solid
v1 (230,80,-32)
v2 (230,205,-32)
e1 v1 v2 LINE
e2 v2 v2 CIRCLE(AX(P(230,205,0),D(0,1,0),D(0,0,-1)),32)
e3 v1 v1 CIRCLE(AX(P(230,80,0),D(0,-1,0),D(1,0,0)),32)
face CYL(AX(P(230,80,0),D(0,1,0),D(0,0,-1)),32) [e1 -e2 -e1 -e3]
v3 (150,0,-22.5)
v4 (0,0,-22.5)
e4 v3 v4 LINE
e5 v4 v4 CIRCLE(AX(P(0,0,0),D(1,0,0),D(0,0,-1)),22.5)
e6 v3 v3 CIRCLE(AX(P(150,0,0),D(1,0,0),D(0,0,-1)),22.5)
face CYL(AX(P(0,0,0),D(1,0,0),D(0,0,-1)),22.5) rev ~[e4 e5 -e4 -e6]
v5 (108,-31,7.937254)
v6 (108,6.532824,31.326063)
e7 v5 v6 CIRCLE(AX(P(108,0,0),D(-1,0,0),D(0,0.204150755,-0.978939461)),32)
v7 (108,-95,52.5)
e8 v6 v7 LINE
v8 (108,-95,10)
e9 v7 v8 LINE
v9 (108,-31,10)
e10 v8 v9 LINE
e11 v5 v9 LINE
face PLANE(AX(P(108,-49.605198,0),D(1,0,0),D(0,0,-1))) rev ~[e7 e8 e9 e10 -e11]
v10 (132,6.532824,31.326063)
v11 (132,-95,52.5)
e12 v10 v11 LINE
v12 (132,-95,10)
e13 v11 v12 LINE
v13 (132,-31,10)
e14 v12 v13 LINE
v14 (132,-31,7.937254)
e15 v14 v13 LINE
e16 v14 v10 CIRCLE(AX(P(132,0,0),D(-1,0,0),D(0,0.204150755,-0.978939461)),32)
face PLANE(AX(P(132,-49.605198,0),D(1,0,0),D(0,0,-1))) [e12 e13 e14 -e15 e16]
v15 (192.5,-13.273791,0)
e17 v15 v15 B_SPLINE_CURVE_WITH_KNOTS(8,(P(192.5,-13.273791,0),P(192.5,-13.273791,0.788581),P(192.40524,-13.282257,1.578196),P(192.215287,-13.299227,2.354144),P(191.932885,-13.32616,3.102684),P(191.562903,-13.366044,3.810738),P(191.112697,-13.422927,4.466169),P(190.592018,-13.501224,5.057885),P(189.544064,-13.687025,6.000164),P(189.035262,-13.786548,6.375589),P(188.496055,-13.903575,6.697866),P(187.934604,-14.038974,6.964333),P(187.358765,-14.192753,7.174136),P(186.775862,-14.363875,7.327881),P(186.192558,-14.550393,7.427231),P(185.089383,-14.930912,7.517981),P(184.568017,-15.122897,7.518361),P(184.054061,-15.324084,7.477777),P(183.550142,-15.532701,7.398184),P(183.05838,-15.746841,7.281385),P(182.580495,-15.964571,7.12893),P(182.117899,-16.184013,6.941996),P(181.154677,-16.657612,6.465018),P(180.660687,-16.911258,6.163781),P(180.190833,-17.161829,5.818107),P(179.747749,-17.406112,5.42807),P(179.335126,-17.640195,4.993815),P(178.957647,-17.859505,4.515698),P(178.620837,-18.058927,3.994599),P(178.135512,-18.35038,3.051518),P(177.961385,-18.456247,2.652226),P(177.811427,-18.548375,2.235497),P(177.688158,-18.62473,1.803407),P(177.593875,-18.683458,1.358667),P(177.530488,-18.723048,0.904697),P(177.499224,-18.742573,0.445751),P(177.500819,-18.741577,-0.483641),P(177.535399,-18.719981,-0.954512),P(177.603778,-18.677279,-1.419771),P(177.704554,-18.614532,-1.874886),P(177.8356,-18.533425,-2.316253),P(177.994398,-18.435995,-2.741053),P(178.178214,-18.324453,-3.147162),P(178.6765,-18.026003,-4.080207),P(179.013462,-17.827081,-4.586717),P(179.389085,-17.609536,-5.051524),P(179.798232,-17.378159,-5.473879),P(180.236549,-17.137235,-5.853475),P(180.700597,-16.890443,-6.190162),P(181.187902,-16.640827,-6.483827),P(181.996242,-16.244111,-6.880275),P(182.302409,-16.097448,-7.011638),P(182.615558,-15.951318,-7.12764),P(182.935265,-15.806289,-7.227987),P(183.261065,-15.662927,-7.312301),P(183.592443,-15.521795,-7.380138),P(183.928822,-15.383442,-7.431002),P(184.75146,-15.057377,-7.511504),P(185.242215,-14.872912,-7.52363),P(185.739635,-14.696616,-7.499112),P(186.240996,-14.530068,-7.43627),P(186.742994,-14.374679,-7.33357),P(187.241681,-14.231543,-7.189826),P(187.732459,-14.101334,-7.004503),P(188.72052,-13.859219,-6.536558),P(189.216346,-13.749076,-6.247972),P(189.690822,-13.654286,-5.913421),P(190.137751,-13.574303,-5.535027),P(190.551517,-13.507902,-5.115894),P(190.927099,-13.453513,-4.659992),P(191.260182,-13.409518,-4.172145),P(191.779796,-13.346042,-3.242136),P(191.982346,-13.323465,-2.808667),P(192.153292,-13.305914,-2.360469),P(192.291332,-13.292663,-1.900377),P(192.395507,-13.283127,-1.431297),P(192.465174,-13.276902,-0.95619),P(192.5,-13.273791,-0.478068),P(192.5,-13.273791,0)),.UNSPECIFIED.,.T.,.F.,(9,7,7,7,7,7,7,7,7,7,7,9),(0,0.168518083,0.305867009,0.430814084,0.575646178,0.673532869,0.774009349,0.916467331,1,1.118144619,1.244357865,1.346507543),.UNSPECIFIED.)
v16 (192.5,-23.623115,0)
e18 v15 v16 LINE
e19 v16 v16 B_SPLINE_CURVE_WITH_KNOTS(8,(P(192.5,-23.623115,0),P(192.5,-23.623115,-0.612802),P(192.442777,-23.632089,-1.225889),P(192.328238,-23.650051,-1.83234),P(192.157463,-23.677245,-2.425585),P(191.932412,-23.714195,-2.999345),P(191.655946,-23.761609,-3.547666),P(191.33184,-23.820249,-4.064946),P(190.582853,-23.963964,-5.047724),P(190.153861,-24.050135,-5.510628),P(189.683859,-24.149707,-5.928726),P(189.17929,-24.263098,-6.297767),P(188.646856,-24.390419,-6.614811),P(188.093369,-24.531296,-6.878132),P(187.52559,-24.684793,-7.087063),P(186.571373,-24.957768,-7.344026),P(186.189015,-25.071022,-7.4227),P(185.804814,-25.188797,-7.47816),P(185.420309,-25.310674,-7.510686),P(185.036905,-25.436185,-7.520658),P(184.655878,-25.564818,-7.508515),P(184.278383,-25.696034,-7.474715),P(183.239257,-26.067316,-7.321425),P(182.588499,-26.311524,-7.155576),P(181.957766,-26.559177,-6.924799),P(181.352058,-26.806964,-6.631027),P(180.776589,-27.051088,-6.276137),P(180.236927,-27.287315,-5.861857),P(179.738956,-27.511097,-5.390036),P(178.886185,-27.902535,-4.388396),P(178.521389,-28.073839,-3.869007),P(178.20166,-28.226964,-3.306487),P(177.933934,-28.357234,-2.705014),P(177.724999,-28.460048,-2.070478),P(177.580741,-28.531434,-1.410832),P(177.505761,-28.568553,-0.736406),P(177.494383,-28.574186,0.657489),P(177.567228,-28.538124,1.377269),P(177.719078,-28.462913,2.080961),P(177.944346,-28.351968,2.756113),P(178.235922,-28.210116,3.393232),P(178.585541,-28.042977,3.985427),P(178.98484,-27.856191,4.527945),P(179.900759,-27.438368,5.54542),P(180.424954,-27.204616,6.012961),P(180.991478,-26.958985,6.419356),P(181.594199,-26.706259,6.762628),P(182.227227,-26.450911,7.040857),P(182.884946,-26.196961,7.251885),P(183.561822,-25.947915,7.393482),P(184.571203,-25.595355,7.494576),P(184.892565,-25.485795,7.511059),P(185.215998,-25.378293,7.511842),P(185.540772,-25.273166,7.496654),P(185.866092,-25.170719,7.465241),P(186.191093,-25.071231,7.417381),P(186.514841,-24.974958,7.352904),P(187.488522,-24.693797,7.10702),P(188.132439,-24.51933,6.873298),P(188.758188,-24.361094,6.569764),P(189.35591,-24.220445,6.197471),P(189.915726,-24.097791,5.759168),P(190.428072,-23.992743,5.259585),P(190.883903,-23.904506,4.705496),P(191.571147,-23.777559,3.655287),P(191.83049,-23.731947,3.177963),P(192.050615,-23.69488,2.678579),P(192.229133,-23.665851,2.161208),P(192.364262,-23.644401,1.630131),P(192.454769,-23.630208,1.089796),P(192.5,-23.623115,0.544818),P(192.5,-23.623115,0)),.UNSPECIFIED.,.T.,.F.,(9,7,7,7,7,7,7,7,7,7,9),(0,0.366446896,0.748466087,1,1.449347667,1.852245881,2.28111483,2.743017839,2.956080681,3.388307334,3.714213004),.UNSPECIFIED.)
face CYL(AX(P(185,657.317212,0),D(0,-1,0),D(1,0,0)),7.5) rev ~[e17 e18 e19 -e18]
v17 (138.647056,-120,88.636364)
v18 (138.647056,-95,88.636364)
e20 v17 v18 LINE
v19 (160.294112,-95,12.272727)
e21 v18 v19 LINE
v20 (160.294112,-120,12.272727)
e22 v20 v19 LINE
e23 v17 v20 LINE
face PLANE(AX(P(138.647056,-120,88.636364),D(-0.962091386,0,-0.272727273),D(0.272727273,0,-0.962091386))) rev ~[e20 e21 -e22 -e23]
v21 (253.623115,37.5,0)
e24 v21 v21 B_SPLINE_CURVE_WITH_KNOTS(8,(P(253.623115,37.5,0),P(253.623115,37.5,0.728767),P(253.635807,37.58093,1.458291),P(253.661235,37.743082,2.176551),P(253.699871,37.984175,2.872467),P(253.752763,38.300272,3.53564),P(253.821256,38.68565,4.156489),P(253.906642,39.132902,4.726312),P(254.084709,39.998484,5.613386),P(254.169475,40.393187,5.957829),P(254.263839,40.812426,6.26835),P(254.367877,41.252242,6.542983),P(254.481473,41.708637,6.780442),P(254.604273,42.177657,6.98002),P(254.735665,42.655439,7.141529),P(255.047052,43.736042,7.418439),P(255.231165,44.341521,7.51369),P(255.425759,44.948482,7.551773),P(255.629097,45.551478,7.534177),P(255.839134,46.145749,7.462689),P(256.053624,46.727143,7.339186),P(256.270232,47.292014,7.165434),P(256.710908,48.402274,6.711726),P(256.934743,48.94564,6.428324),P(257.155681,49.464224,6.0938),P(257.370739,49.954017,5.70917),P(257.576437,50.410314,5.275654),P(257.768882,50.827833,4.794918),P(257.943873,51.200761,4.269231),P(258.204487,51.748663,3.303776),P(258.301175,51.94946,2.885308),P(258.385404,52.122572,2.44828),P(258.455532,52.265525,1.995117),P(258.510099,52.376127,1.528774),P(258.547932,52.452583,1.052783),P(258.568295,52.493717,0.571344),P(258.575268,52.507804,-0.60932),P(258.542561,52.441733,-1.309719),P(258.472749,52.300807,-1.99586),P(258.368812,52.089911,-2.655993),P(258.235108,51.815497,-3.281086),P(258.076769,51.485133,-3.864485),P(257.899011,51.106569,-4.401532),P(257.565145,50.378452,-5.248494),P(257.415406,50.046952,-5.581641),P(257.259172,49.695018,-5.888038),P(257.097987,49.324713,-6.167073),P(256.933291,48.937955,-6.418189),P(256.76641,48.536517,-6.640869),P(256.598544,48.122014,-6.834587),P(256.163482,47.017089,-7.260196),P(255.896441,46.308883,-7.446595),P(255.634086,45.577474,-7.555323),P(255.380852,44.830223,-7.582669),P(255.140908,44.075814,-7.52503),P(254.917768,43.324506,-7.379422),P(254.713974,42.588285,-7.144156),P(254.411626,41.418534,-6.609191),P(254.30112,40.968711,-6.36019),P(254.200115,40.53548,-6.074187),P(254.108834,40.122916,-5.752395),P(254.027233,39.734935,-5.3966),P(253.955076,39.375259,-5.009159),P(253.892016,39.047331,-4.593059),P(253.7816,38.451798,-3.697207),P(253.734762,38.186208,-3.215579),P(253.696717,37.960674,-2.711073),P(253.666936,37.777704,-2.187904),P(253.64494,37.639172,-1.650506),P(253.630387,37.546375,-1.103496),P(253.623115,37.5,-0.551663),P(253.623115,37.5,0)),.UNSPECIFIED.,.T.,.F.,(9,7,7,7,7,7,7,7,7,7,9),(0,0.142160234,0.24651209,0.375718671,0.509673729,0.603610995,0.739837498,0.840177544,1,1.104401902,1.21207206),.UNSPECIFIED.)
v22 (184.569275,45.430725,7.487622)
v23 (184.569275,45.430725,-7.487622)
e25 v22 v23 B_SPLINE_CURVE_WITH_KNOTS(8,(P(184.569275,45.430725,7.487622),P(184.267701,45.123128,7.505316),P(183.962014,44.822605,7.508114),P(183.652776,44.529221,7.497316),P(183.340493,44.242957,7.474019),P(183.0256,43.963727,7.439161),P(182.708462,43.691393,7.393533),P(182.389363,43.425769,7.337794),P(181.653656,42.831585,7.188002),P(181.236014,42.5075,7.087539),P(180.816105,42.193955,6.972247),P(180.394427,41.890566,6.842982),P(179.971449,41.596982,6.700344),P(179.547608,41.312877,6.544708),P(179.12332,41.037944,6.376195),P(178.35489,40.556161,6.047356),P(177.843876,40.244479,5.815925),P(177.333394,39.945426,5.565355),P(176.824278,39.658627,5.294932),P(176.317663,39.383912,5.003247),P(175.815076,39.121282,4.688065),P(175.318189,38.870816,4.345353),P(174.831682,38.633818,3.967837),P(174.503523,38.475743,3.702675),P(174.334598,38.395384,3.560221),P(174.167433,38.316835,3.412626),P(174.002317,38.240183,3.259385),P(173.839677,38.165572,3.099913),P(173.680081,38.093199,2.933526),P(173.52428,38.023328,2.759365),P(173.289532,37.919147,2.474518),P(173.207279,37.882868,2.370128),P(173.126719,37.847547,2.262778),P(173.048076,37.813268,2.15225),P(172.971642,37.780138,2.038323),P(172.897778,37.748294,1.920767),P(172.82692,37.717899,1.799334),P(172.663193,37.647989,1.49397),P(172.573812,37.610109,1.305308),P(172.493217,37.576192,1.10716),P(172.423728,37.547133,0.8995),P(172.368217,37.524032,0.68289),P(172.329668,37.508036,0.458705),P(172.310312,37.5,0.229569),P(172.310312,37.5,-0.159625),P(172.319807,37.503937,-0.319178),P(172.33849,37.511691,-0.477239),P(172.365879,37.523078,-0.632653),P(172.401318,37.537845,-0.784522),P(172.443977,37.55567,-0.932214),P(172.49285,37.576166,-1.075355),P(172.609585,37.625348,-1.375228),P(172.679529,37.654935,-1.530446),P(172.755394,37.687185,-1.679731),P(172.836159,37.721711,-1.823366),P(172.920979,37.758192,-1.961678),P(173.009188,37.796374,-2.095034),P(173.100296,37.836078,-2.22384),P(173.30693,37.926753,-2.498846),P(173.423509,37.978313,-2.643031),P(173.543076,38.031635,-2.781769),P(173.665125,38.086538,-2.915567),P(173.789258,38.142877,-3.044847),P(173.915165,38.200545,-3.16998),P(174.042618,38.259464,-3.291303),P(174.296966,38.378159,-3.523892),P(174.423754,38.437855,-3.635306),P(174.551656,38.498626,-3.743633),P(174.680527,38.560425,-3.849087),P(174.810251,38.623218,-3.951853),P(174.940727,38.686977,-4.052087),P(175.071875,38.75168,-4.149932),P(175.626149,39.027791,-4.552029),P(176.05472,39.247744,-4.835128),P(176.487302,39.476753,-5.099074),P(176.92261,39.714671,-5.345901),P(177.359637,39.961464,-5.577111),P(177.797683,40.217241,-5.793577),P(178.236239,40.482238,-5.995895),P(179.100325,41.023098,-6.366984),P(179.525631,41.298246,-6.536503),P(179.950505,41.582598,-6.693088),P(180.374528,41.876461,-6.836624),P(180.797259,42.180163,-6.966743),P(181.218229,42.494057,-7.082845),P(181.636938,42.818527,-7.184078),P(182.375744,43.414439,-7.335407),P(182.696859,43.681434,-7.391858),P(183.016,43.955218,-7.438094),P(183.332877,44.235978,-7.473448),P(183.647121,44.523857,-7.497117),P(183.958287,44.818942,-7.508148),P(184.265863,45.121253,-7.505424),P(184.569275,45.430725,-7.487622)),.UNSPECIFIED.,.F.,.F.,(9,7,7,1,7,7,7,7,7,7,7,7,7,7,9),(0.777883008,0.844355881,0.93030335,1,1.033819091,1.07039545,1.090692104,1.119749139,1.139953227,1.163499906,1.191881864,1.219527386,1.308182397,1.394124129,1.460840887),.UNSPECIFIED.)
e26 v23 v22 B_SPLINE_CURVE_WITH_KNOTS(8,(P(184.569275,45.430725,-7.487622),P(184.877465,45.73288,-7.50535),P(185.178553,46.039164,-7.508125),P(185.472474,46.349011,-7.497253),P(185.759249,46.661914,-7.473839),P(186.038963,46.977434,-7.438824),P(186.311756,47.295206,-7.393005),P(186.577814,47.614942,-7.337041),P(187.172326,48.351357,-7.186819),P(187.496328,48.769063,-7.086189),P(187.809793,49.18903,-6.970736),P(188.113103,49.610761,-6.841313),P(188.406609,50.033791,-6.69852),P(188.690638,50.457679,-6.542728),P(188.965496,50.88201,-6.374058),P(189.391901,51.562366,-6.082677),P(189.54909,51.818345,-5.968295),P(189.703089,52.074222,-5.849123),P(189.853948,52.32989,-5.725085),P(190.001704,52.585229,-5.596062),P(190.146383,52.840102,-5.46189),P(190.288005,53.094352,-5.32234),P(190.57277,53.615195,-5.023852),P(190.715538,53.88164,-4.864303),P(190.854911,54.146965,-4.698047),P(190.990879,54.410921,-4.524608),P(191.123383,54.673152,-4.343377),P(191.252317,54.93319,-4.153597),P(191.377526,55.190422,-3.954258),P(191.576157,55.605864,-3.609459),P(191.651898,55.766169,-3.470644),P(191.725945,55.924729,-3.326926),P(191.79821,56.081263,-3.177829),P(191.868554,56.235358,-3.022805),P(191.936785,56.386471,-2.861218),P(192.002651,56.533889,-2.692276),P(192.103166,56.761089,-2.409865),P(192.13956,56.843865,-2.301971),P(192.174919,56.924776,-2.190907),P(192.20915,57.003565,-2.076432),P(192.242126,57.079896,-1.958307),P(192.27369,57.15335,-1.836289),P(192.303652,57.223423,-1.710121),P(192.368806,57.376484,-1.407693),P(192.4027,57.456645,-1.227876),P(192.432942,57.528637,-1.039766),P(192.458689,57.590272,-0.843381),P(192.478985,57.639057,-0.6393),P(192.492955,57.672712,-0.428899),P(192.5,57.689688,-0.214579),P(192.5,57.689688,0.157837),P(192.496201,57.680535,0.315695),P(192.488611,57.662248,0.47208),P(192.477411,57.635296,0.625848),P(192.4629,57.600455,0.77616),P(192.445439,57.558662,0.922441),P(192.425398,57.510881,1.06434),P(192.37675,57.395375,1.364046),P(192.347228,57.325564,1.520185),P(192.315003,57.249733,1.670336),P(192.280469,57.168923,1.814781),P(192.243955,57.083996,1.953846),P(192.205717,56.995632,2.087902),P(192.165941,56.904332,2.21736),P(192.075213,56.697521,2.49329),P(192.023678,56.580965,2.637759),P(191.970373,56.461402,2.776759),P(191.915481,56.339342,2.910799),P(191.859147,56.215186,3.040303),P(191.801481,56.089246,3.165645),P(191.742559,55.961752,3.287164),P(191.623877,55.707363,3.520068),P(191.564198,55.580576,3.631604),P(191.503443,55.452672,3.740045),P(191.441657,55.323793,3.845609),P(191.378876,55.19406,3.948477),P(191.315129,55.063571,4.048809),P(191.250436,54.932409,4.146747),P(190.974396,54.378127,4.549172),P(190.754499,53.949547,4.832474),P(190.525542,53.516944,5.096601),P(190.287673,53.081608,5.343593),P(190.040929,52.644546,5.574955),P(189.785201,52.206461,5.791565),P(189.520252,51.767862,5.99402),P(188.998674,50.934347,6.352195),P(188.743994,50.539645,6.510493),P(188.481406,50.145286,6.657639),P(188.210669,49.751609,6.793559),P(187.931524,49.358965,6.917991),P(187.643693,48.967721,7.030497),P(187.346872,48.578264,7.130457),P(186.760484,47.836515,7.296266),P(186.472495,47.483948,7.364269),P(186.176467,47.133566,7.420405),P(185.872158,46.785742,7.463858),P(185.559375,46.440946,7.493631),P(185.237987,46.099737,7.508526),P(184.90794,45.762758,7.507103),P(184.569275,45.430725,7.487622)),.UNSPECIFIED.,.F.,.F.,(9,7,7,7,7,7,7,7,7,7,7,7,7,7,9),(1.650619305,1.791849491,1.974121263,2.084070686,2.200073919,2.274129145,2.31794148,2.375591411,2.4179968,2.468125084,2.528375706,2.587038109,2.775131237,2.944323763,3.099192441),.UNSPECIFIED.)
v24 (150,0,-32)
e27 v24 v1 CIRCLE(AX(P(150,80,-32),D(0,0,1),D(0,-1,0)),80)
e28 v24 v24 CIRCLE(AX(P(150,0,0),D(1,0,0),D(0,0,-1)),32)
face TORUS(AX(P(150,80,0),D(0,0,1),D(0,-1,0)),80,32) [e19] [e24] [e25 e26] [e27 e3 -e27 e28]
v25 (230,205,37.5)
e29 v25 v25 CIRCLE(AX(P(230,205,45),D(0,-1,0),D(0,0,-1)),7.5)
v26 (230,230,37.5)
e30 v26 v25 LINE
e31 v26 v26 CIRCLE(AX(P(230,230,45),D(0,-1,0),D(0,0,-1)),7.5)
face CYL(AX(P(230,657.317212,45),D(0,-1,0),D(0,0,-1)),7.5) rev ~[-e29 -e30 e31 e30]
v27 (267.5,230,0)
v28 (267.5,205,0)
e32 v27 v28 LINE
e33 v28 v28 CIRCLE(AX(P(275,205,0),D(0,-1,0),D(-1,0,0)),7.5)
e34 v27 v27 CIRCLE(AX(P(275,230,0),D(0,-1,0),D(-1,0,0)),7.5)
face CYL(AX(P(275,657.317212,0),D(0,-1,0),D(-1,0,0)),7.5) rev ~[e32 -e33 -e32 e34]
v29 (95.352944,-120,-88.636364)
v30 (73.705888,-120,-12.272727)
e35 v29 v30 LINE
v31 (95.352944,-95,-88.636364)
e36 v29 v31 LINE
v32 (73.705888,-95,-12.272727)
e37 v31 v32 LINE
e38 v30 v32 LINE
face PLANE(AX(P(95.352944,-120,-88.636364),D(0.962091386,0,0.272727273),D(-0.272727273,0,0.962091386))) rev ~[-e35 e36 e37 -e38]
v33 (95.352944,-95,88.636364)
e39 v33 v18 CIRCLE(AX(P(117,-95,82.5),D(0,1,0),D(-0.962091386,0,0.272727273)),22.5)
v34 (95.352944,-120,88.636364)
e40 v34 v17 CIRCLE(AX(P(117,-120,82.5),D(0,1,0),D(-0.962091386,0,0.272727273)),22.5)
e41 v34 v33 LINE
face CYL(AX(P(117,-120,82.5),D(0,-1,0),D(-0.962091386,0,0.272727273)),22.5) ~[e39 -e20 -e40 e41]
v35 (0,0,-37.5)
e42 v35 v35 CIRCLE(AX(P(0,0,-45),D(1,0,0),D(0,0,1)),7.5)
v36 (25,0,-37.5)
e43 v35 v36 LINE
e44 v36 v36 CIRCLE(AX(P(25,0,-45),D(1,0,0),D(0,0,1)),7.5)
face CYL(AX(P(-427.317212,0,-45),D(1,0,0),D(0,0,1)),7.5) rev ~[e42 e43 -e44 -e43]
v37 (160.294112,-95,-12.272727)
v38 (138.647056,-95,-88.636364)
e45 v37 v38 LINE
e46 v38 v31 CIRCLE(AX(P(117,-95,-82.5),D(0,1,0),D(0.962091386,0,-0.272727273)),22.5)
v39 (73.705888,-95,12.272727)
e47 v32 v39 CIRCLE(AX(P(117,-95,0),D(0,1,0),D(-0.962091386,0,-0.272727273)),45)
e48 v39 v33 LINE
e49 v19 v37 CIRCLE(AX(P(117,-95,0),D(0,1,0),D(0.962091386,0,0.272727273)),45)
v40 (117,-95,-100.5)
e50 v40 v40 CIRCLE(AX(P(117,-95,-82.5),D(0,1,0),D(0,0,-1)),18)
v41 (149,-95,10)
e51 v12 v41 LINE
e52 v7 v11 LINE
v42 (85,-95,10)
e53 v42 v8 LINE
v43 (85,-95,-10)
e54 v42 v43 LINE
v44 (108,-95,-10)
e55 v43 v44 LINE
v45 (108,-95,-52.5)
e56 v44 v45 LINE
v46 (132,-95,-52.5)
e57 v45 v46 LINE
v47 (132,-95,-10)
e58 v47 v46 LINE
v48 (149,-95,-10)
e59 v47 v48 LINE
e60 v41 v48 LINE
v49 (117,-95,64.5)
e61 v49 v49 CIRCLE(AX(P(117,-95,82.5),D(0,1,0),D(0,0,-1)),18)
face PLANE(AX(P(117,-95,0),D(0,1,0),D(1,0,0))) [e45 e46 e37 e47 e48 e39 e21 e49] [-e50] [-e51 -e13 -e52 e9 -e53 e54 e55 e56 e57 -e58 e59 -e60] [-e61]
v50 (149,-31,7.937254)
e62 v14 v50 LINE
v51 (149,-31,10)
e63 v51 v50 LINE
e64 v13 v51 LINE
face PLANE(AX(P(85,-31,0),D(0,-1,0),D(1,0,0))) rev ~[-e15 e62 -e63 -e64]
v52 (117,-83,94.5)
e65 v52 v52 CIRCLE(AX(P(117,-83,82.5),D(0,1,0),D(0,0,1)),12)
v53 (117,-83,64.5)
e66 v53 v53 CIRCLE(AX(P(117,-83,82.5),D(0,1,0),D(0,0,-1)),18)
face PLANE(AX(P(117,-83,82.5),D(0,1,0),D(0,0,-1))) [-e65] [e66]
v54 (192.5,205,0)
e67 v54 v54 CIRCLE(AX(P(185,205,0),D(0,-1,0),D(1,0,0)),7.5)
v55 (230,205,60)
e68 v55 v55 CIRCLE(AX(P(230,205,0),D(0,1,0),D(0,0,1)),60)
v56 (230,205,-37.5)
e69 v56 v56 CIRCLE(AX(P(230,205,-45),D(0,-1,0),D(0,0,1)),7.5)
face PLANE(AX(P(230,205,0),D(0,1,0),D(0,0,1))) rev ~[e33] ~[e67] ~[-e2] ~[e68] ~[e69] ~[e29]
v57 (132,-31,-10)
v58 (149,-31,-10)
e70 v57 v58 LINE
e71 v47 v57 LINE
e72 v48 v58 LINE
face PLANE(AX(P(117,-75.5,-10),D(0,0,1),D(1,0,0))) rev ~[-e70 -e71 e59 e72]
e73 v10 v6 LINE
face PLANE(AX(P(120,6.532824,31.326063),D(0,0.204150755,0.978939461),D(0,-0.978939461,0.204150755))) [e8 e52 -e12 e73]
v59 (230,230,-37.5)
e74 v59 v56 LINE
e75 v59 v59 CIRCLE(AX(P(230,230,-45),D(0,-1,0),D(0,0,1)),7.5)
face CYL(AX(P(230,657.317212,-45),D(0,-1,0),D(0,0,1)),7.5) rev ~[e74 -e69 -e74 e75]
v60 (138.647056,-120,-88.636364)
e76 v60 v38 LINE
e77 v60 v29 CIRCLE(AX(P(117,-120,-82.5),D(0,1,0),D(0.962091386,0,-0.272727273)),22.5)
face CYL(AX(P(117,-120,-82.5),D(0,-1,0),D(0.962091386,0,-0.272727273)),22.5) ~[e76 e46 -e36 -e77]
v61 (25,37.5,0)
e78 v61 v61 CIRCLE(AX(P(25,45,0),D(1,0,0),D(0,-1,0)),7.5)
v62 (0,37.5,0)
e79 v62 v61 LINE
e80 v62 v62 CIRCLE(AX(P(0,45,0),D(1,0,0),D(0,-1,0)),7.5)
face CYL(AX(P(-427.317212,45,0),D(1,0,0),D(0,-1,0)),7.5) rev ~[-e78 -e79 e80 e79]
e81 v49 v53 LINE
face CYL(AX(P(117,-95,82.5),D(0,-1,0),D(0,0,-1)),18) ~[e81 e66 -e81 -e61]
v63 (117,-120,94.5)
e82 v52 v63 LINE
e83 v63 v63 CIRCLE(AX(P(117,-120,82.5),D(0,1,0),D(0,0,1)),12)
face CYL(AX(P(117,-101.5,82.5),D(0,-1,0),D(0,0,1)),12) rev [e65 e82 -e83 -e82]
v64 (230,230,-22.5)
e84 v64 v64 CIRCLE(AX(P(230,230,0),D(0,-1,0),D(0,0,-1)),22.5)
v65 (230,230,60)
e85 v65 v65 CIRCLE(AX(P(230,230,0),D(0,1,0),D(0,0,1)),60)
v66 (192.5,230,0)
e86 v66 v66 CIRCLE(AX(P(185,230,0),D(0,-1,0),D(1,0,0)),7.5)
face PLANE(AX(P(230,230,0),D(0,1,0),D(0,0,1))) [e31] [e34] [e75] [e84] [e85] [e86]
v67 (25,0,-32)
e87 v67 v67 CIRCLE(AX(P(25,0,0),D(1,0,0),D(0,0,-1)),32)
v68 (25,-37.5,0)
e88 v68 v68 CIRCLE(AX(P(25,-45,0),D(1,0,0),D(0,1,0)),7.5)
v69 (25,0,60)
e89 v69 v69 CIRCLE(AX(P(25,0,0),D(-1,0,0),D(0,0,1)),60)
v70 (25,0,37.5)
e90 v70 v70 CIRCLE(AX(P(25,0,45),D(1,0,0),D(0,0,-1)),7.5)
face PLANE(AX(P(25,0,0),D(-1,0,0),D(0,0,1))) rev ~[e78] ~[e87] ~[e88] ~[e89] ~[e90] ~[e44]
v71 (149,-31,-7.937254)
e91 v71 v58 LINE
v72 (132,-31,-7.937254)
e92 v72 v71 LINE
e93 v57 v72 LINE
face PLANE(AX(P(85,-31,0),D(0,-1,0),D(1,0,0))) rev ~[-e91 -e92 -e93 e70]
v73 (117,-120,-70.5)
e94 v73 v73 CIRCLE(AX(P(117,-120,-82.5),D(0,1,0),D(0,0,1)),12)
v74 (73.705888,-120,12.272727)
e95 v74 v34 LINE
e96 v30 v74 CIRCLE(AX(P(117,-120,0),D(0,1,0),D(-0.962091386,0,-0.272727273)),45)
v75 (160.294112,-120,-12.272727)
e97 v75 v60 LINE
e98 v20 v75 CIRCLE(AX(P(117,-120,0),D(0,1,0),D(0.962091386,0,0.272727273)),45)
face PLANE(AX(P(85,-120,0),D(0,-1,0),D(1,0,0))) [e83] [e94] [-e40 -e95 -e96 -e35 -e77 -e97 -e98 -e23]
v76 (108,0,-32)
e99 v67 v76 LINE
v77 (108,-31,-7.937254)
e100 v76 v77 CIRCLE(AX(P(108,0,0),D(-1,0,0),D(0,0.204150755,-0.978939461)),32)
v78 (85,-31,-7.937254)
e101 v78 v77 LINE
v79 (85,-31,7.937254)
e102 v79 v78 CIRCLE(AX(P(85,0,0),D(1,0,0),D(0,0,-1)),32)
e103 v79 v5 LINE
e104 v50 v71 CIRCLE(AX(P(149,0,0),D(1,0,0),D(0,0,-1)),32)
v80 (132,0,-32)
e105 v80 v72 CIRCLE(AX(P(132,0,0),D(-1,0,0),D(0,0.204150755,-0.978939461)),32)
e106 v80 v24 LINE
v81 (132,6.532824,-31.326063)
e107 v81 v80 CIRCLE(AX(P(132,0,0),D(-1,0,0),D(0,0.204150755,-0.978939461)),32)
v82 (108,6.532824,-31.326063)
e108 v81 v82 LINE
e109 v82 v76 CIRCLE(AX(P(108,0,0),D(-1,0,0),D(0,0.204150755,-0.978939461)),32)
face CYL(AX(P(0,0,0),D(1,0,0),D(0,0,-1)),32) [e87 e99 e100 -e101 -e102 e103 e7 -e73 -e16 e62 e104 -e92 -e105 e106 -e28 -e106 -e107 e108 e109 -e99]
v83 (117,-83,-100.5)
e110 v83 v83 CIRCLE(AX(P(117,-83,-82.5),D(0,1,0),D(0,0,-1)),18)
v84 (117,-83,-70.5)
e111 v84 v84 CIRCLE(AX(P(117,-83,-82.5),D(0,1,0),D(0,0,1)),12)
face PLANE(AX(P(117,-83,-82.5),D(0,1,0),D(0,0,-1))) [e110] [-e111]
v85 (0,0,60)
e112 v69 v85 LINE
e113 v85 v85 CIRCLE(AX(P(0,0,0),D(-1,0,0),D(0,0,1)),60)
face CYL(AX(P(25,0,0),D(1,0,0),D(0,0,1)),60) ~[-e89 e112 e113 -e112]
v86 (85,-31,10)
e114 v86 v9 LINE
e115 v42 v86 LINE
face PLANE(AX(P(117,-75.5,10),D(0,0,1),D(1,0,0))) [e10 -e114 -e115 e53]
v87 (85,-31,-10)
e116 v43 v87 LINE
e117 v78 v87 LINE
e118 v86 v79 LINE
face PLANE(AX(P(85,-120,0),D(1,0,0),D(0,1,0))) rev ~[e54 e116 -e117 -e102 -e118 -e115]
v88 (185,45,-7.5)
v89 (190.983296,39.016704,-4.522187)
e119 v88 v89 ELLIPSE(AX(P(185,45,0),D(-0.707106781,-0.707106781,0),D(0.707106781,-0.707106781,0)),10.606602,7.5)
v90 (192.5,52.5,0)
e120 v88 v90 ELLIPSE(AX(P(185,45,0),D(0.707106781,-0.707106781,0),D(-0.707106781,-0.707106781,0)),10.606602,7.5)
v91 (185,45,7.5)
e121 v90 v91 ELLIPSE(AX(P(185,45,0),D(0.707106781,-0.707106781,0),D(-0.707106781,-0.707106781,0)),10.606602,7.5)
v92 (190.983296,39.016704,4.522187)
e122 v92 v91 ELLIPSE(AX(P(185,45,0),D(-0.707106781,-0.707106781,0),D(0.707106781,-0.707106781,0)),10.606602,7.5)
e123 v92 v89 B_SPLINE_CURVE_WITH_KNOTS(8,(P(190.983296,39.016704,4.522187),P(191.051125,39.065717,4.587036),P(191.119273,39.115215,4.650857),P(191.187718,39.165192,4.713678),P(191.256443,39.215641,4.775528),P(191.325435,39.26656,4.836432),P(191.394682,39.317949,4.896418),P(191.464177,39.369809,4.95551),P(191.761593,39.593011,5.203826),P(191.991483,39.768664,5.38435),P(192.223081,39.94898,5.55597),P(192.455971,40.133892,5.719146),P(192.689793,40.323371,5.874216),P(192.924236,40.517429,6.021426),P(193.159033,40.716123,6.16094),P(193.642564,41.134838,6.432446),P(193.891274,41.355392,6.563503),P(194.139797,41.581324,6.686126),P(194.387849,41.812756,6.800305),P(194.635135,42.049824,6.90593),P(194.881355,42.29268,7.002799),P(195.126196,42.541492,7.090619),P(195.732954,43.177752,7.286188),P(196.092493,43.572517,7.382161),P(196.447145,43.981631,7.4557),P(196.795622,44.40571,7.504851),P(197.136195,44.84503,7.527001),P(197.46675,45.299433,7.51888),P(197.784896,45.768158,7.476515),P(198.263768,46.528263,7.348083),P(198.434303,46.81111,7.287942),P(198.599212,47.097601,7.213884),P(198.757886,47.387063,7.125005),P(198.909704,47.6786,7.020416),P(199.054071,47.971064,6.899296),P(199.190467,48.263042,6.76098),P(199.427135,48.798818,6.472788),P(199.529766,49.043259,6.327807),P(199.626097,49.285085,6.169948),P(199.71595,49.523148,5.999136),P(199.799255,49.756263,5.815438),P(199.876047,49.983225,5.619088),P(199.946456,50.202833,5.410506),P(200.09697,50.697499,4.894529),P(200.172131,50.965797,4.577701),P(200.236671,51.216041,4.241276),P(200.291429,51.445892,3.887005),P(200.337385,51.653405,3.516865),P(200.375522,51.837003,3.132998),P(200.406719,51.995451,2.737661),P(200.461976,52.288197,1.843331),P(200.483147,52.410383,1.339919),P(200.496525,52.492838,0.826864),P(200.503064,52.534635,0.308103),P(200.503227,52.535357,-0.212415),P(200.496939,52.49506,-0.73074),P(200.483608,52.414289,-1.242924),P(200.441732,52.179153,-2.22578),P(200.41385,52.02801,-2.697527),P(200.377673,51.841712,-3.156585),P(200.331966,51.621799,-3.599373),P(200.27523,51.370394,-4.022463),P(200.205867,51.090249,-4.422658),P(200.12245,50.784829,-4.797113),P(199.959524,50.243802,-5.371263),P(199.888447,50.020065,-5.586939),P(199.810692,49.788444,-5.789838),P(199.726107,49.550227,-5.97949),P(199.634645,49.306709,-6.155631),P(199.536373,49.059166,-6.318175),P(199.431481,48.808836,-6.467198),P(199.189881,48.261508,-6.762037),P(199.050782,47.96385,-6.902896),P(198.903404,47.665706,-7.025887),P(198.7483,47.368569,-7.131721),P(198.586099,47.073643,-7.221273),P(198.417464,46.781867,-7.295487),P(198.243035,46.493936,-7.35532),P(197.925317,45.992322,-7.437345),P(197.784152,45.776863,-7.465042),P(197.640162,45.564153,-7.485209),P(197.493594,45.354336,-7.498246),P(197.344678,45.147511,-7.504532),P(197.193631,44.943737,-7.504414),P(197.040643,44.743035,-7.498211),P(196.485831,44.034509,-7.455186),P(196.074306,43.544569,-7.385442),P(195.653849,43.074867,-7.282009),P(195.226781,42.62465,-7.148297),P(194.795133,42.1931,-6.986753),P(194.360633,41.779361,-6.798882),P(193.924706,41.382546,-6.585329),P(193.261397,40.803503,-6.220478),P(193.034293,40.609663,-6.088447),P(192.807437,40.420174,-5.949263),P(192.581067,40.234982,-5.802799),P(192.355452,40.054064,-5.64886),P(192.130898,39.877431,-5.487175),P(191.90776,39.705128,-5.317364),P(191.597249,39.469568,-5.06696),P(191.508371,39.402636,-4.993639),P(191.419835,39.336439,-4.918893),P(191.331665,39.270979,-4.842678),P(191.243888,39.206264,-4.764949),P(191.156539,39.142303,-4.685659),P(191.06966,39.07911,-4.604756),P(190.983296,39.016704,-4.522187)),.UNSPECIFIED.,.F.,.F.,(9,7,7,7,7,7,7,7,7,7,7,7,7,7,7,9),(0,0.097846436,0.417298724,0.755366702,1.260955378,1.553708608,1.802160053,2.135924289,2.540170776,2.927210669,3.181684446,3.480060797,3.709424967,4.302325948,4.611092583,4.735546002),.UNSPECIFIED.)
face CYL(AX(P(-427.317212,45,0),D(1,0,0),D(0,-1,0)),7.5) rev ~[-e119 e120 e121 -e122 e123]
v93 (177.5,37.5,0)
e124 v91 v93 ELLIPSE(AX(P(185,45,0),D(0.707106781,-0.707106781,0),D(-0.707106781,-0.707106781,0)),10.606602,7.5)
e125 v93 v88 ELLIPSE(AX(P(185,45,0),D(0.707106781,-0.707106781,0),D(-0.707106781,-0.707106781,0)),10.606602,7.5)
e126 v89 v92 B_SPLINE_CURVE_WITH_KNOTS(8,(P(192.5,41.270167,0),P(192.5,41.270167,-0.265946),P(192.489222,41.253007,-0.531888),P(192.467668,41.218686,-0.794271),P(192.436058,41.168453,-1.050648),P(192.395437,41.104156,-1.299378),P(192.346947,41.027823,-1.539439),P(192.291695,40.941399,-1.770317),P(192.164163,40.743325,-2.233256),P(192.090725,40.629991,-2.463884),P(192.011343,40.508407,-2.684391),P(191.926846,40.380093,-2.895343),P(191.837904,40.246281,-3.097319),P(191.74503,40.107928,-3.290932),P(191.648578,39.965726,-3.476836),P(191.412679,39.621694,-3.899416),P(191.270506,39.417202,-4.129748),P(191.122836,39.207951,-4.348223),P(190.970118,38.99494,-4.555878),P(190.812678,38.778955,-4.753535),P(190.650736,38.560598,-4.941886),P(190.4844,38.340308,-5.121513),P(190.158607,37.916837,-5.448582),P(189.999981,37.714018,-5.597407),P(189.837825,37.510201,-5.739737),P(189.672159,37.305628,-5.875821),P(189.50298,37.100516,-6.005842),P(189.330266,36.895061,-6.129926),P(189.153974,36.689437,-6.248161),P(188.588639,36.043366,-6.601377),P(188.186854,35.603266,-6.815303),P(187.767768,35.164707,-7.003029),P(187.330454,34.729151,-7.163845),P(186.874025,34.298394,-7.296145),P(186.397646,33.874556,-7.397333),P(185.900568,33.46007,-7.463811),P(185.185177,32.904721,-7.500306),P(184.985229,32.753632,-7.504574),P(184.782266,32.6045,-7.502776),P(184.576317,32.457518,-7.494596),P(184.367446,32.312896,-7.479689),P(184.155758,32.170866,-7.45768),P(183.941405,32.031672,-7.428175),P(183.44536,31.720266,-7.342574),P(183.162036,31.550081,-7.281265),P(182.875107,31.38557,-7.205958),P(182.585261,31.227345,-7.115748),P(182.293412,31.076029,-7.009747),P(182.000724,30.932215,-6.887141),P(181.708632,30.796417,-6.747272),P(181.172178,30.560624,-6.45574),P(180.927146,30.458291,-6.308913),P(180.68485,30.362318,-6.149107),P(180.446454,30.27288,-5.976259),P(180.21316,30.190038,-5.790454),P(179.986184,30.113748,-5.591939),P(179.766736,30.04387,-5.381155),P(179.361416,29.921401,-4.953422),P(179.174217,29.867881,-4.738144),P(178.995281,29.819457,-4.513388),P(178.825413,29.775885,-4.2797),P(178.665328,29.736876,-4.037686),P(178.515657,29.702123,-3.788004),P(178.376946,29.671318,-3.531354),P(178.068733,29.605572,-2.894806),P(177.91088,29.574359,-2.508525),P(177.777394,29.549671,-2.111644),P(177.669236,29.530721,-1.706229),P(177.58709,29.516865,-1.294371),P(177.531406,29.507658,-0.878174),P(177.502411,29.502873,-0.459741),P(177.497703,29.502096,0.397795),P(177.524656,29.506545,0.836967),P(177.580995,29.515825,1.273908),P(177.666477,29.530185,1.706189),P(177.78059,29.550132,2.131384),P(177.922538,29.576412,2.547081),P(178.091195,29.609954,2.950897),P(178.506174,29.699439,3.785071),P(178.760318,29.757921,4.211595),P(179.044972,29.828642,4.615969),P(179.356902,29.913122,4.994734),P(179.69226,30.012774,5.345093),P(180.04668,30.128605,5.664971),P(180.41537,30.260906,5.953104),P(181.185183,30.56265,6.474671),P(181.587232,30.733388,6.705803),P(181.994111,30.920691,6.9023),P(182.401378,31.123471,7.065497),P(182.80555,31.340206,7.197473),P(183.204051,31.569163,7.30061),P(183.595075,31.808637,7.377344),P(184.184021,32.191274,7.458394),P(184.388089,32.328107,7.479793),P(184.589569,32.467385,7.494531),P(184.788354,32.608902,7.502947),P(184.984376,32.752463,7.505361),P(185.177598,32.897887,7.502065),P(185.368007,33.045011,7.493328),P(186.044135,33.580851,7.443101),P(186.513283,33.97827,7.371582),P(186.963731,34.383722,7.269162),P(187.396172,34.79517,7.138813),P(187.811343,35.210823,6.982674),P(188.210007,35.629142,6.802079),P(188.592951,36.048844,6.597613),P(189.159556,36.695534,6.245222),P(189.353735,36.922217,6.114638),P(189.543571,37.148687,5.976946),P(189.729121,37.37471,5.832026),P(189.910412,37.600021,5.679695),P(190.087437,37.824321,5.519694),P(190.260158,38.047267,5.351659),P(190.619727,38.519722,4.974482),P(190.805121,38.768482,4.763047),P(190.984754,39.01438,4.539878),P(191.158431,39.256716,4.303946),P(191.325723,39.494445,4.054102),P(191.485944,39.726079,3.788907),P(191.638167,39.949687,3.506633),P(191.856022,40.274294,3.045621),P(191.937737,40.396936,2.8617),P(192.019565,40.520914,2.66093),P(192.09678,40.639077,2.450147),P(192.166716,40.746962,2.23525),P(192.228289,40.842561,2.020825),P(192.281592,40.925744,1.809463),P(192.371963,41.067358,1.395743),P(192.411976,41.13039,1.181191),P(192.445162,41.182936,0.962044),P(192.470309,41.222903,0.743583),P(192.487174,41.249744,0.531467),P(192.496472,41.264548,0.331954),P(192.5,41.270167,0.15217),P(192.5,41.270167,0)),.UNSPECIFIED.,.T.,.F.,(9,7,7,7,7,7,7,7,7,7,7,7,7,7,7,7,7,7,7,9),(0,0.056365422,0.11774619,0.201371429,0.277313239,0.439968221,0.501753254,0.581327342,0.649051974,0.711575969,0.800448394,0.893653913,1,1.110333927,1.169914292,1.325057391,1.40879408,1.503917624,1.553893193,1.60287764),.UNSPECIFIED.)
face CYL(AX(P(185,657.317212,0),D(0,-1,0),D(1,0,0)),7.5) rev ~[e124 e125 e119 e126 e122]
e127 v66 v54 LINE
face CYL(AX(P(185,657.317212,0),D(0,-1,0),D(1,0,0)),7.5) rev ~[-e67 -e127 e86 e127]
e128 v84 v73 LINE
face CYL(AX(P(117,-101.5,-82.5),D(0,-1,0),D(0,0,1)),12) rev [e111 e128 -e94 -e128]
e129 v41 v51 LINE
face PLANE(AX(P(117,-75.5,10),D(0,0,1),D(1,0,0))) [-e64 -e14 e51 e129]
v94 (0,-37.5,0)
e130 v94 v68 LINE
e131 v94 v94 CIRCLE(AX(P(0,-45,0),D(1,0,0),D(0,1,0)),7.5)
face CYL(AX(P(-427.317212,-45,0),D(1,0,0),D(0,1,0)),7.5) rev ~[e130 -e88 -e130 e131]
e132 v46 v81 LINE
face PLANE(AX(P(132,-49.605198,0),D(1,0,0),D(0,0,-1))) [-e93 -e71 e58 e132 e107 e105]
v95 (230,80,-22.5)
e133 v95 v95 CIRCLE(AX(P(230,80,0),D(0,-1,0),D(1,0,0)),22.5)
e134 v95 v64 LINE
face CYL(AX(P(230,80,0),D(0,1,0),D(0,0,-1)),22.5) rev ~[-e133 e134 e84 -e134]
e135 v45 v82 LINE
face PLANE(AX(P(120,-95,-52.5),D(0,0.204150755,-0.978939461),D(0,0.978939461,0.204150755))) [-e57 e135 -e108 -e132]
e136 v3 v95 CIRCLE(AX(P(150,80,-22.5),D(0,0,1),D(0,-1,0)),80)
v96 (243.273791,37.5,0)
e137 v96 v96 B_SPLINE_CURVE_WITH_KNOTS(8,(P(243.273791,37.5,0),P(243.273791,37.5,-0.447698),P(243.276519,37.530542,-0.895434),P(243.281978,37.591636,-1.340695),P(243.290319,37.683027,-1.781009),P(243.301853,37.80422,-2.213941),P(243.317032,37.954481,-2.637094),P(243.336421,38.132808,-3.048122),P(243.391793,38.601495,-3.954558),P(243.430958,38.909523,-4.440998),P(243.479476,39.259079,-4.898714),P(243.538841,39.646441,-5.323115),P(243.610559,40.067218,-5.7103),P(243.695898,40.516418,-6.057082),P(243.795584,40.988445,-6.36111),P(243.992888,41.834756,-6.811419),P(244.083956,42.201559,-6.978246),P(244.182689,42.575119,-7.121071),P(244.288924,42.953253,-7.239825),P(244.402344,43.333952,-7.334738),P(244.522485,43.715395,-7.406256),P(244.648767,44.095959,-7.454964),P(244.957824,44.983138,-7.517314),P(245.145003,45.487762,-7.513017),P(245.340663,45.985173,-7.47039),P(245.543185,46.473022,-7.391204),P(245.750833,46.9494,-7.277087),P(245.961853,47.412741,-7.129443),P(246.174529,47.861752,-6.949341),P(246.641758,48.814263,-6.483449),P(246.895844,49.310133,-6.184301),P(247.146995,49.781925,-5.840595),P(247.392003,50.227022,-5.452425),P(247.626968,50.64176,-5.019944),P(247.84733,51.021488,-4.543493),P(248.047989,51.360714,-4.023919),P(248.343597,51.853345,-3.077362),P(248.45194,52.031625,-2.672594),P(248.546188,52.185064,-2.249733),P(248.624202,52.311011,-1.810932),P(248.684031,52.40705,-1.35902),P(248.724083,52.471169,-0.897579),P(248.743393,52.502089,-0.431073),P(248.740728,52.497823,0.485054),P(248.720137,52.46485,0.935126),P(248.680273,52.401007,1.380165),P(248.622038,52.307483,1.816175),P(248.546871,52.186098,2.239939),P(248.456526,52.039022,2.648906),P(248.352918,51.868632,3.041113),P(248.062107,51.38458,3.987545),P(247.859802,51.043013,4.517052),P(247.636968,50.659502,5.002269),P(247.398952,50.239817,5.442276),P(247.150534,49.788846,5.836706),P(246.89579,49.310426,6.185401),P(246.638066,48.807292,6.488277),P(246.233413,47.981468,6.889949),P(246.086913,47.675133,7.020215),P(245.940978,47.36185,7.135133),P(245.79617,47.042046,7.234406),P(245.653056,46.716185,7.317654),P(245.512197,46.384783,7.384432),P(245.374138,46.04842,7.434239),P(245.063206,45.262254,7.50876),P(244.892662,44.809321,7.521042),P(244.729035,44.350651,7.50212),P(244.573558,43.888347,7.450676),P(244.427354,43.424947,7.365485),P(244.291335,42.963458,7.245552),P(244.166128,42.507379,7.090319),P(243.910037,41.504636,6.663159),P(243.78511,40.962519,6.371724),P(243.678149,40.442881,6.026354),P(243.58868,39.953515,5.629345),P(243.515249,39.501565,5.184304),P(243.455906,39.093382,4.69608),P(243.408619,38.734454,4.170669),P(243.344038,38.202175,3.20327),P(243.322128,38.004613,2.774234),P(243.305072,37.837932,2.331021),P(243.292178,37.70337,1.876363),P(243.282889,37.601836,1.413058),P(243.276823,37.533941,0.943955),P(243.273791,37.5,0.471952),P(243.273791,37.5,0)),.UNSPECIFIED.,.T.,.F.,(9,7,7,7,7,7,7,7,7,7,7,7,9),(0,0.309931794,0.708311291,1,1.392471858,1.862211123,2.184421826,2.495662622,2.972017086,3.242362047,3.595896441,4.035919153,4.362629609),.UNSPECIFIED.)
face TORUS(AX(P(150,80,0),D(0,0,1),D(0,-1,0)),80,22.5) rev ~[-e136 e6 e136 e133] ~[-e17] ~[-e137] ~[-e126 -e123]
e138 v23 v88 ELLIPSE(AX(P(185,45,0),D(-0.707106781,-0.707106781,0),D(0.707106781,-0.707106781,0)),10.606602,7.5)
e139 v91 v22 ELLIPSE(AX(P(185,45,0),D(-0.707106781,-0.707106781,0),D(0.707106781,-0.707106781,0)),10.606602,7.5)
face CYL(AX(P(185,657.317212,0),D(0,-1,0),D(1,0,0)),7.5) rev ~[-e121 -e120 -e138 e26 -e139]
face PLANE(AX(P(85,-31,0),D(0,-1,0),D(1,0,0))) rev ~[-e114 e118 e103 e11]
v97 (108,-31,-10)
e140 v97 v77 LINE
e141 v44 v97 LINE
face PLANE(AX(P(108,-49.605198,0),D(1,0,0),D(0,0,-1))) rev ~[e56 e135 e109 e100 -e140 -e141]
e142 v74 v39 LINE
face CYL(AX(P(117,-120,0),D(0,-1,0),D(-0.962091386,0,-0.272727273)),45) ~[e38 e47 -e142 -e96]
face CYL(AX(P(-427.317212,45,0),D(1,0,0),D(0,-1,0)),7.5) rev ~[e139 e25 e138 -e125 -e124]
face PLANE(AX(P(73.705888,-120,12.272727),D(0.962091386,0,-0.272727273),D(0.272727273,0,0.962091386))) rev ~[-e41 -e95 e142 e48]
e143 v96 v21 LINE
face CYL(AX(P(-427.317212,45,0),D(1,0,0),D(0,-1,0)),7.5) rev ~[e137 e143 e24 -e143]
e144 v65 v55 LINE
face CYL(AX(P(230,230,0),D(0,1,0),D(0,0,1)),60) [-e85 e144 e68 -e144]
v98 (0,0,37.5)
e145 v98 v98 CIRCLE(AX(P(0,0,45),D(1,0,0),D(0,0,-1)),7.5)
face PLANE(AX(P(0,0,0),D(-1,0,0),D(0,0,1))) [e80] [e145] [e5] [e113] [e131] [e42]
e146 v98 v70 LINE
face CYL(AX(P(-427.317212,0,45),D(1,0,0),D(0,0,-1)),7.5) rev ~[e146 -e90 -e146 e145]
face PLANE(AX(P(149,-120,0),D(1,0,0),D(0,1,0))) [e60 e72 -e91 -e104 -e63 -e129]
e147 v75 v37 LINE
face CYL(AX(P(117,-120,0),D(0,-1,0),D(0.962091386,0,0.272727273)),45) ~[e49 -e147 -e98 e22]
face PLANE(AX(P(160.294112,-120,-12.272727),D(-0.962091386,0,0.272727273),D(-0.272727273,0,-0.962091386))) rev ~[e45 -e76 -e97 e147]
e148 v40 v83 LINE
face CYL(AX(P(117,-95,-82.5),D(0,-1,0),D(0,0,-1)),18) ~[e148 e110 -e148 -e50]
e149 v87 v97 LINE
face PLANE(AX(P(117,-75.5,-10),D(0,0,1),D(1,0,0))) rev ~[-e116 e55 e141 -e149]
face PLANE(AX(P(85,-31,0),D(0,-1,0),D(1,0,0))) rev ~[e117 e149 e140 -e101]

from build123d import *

# Parameters (mm, degrees)
SKETCH2_R           = 32
SKETCH2_R_2         = 22.5
SKETCH3_R           = 60
SKETCH3_R_2         = 22.5
BOSS_EXTRUDE1_DEPTH = 25
BOSS_EXTRUDE2_START = -25
SKETCH4_R           = 60
SKETCH4_R_2         = 22.5
BOSS_EXTRUDE2_DEPTH = 25
HOLE1_D             = 15
CIRPATTERN1_COUNT   = 4
HOLE2_D             = 15
CIRPATTERN2_COUNT   = 4
BOSS_EXTRUDE3_DEPTH = 25
SKETCH10_R          = 18
BOSS_EXTRUDE4_DEPTH = 12
SKETCH12_W          = 12
SKETCH12_H          = 37
HOLE3_AT_2_COUNT    = 2
HOLE3_AT_2_PITCH    = 165
SKETCH13_W          = 64
SKETCH13_H          = 89
BOSS_EXTRUDE5_DEPTH = 10
BOSS_EXTRUDE6_DEPTH = 12


with BuildPart() as part:
    # Sweep1: sweep along a path in Sketch1
    with BuildLine(Plane.XY) as sweep1_path:
        Line((0, 0), (150, 0))
        ThreePointArc((150, 0), (206.568542495, 23.431457505), (230, 80))
        Line((230, 80), (230, 230))
    # Sketch2 → Sweep1 (sweep)
    with BuildSketch(Plane(origin=(0, 0, 0), x_dir=(0, 0, -1), z_dir=(1, 0, 0))):
        Circle(SKETCH2_R)
        Circle(SKETCH2_R_2, mode=Mode.SUBTRACT)
    sweep(path=sweep1_path.line)

    # Sketch3 → Boss-Extrude1 (add)
    with BuildSketch(Plane(origin=(0, 230, 0), x_dir=(1, 0, 0), z_dir=(0, 1, 0))):
        with Locations(Location((230, 0, 0), (0, 0, 270))):
            Circle(SKETCH3_R)
        with Locations((230, 0)):
            Circle(SKETCH3_R_2, mode=Mode.SUBTRACT)
    extrude(amount=-BOSS_EXTRUDE1_DEPTH)

    # Sketch4 → Boss-Extrude2 (add)
    with BuildSketch(Plane.ZY.offset(BOSS_EXTRUDE2_START)):
        Circle(SKETCH4_R)
        with Locations(Location((0, 0, 0), (0, 0, 180))):
            Circle(SKETCH4_R_2, mode=Mode.SUBTRACT)
    extrude(amount=BOSS_EXTRUDE2_DEPTH)

    # Hole1 (through all)
    with Locations(Plane(origin=(0, 230, 0), x_dir=(1, 0, 0), z_dir=(0, 1, 0))):
        with Locations((275, 0)):
            hole1 = Hole(HOLE1_D / 2)

    # CirPattern1: Hole1 ×4 about axis
    cirpattern1_axis = Axis((230, 0, 0), (0, 1, 0))
    for i in range(1, CIRPATTERN1_COUNT):
        add(hole1.rotate(cirpattern1_axis, i * 360 / CIRPATTERN1_COUNT), mode=Mode.SUBTRACT)

    # Hole2 (through all)
    with Locations(Plane.ZY):
        with Locations((45, 0)):
            hole2 = Hole(HOLE2_D / 2)

    # CirPattern2: Hole2 ×4 about axis
    cirpattern2_axis = Axis((0, 0, 0), (1, 0, 0))
    for i in range(1, CIRPATTERN2_COUNT):
        add(hole2.rotate(cirpattern2_axis, i * 360 / CIRPATTERN2_COUNT), mode=Mode.SUBTRACT)



with BuildPart() as body_2:
    # Sketch9 → Boss-Extrude3 (new body)
    with BuildSketch(Plane(origin=(0, -120, 0), x_dir=(1, 0, 0), z_dir=(0, 1, 0))):
        with BuildLine():
            Line((95.352943819, 88.636363636), (73.705887637, 12.272727273))
            ThreePointArc((73.705887637, 12.272727273), (72, 0), (73.705887637, -12.272727273))
            Line((73.705887637, -12.272727273), (95.352943819, -88.636363636))
            ThreePointArc((95.352943819, -88.636363636), (117, -105), (138.647056181, -88.636363636))
            Line((138.647056181, -88.636363636), (160.294112363, -12.272727273))
            ThreePointArc((160.294112363, -12.272727273), (162, 0), (160.294112363, 12.272727273))
            Line((160.294112363, 12.272727273), (138.647056181, 88.636363636))
            ThreePointArc((138.647056181, 88.636363636), (117, 105), (95.352943819, 88.636363636))
        make_face()
    extrude(amount=BOSS_EXTRUDE3_DEPTH)

    # Sketch10 → Boss-Extrude4 (add)
    with BuildSketch(Plane(origin=(0, -95, 0), x_dir=(1, 0, 0), z_dir=(0, 1, 0))):
        with Locations(Location((117, -82.5, 0), (0, 0, 90))):
            Circle(SKETCH10_R)
        with Locations(Location((117, 82.5, 0), (0, 0, 90))):
            Circle(SKETCH10_R)
    extrude(amount=BOSS_EXTRUDE4_DEPTH)

    # Sketch12 → Hole3 (revolve, cut)
    with BuildSketch(Plane(origin=(117, -83, 82.5), x_dir=(0, 0, 1), z_dir=(1, 0, 0))):
        with Locations((6, 18.5)):
            Rectangle(SKETCH12_W, SKETCH12_H)
    hole3 = revolve(axis=Axis((117, -193, 82.5), (0, 1, 0)), mode=Mode.SUBTRACT)

    # Hole3 at 2: Hole3 ×2
    with Locations(*[(0, 0, -i * HOLE3_AT_2_PITCH) for i in range(1, HOLE3_AT_2_COUNT)]):
        add(hole3, mode=Mode.SUBTRACT)


with BuildPart() as part_1:
    add(part.part)

    add(body_2.part)  # Boss-Extrude5 merges body 2
    # Sketch13 → Boss-Extrude5 (add, symmetric)
    with BuildSketch(Plane.XY):
        with Locations((117, -75.5)):
            Rectangle(SKETCH13_W, SKETCH13_H)
    extrude(amount=BOSS_EXTRUDE5_DEPTH, both=True)

    # Sketch14 → Boss-Extrude6 (add, symmetric)
    with BuildSketch(Plane(origin=(120, 0, 0), x_dir=(0, 0, -1), z_dir=(1, 0, 0))):
        with BuildLine():
            Line((-31.326062767, 6.532824161), (-52.5, -95))
            Line((-52.5, -95), (52.5, -95))
            Line((52.5, -95), (31.326062767, 6.532824161))
            ThreePointArc((31.326062767, 6.532824161), (0, -32), (-31.326062767, 6.532824161))
        make_face()
    extrude(amount=BOSS_EXTRUDE6_DEPTH, both=True)


solid = part_1.part
